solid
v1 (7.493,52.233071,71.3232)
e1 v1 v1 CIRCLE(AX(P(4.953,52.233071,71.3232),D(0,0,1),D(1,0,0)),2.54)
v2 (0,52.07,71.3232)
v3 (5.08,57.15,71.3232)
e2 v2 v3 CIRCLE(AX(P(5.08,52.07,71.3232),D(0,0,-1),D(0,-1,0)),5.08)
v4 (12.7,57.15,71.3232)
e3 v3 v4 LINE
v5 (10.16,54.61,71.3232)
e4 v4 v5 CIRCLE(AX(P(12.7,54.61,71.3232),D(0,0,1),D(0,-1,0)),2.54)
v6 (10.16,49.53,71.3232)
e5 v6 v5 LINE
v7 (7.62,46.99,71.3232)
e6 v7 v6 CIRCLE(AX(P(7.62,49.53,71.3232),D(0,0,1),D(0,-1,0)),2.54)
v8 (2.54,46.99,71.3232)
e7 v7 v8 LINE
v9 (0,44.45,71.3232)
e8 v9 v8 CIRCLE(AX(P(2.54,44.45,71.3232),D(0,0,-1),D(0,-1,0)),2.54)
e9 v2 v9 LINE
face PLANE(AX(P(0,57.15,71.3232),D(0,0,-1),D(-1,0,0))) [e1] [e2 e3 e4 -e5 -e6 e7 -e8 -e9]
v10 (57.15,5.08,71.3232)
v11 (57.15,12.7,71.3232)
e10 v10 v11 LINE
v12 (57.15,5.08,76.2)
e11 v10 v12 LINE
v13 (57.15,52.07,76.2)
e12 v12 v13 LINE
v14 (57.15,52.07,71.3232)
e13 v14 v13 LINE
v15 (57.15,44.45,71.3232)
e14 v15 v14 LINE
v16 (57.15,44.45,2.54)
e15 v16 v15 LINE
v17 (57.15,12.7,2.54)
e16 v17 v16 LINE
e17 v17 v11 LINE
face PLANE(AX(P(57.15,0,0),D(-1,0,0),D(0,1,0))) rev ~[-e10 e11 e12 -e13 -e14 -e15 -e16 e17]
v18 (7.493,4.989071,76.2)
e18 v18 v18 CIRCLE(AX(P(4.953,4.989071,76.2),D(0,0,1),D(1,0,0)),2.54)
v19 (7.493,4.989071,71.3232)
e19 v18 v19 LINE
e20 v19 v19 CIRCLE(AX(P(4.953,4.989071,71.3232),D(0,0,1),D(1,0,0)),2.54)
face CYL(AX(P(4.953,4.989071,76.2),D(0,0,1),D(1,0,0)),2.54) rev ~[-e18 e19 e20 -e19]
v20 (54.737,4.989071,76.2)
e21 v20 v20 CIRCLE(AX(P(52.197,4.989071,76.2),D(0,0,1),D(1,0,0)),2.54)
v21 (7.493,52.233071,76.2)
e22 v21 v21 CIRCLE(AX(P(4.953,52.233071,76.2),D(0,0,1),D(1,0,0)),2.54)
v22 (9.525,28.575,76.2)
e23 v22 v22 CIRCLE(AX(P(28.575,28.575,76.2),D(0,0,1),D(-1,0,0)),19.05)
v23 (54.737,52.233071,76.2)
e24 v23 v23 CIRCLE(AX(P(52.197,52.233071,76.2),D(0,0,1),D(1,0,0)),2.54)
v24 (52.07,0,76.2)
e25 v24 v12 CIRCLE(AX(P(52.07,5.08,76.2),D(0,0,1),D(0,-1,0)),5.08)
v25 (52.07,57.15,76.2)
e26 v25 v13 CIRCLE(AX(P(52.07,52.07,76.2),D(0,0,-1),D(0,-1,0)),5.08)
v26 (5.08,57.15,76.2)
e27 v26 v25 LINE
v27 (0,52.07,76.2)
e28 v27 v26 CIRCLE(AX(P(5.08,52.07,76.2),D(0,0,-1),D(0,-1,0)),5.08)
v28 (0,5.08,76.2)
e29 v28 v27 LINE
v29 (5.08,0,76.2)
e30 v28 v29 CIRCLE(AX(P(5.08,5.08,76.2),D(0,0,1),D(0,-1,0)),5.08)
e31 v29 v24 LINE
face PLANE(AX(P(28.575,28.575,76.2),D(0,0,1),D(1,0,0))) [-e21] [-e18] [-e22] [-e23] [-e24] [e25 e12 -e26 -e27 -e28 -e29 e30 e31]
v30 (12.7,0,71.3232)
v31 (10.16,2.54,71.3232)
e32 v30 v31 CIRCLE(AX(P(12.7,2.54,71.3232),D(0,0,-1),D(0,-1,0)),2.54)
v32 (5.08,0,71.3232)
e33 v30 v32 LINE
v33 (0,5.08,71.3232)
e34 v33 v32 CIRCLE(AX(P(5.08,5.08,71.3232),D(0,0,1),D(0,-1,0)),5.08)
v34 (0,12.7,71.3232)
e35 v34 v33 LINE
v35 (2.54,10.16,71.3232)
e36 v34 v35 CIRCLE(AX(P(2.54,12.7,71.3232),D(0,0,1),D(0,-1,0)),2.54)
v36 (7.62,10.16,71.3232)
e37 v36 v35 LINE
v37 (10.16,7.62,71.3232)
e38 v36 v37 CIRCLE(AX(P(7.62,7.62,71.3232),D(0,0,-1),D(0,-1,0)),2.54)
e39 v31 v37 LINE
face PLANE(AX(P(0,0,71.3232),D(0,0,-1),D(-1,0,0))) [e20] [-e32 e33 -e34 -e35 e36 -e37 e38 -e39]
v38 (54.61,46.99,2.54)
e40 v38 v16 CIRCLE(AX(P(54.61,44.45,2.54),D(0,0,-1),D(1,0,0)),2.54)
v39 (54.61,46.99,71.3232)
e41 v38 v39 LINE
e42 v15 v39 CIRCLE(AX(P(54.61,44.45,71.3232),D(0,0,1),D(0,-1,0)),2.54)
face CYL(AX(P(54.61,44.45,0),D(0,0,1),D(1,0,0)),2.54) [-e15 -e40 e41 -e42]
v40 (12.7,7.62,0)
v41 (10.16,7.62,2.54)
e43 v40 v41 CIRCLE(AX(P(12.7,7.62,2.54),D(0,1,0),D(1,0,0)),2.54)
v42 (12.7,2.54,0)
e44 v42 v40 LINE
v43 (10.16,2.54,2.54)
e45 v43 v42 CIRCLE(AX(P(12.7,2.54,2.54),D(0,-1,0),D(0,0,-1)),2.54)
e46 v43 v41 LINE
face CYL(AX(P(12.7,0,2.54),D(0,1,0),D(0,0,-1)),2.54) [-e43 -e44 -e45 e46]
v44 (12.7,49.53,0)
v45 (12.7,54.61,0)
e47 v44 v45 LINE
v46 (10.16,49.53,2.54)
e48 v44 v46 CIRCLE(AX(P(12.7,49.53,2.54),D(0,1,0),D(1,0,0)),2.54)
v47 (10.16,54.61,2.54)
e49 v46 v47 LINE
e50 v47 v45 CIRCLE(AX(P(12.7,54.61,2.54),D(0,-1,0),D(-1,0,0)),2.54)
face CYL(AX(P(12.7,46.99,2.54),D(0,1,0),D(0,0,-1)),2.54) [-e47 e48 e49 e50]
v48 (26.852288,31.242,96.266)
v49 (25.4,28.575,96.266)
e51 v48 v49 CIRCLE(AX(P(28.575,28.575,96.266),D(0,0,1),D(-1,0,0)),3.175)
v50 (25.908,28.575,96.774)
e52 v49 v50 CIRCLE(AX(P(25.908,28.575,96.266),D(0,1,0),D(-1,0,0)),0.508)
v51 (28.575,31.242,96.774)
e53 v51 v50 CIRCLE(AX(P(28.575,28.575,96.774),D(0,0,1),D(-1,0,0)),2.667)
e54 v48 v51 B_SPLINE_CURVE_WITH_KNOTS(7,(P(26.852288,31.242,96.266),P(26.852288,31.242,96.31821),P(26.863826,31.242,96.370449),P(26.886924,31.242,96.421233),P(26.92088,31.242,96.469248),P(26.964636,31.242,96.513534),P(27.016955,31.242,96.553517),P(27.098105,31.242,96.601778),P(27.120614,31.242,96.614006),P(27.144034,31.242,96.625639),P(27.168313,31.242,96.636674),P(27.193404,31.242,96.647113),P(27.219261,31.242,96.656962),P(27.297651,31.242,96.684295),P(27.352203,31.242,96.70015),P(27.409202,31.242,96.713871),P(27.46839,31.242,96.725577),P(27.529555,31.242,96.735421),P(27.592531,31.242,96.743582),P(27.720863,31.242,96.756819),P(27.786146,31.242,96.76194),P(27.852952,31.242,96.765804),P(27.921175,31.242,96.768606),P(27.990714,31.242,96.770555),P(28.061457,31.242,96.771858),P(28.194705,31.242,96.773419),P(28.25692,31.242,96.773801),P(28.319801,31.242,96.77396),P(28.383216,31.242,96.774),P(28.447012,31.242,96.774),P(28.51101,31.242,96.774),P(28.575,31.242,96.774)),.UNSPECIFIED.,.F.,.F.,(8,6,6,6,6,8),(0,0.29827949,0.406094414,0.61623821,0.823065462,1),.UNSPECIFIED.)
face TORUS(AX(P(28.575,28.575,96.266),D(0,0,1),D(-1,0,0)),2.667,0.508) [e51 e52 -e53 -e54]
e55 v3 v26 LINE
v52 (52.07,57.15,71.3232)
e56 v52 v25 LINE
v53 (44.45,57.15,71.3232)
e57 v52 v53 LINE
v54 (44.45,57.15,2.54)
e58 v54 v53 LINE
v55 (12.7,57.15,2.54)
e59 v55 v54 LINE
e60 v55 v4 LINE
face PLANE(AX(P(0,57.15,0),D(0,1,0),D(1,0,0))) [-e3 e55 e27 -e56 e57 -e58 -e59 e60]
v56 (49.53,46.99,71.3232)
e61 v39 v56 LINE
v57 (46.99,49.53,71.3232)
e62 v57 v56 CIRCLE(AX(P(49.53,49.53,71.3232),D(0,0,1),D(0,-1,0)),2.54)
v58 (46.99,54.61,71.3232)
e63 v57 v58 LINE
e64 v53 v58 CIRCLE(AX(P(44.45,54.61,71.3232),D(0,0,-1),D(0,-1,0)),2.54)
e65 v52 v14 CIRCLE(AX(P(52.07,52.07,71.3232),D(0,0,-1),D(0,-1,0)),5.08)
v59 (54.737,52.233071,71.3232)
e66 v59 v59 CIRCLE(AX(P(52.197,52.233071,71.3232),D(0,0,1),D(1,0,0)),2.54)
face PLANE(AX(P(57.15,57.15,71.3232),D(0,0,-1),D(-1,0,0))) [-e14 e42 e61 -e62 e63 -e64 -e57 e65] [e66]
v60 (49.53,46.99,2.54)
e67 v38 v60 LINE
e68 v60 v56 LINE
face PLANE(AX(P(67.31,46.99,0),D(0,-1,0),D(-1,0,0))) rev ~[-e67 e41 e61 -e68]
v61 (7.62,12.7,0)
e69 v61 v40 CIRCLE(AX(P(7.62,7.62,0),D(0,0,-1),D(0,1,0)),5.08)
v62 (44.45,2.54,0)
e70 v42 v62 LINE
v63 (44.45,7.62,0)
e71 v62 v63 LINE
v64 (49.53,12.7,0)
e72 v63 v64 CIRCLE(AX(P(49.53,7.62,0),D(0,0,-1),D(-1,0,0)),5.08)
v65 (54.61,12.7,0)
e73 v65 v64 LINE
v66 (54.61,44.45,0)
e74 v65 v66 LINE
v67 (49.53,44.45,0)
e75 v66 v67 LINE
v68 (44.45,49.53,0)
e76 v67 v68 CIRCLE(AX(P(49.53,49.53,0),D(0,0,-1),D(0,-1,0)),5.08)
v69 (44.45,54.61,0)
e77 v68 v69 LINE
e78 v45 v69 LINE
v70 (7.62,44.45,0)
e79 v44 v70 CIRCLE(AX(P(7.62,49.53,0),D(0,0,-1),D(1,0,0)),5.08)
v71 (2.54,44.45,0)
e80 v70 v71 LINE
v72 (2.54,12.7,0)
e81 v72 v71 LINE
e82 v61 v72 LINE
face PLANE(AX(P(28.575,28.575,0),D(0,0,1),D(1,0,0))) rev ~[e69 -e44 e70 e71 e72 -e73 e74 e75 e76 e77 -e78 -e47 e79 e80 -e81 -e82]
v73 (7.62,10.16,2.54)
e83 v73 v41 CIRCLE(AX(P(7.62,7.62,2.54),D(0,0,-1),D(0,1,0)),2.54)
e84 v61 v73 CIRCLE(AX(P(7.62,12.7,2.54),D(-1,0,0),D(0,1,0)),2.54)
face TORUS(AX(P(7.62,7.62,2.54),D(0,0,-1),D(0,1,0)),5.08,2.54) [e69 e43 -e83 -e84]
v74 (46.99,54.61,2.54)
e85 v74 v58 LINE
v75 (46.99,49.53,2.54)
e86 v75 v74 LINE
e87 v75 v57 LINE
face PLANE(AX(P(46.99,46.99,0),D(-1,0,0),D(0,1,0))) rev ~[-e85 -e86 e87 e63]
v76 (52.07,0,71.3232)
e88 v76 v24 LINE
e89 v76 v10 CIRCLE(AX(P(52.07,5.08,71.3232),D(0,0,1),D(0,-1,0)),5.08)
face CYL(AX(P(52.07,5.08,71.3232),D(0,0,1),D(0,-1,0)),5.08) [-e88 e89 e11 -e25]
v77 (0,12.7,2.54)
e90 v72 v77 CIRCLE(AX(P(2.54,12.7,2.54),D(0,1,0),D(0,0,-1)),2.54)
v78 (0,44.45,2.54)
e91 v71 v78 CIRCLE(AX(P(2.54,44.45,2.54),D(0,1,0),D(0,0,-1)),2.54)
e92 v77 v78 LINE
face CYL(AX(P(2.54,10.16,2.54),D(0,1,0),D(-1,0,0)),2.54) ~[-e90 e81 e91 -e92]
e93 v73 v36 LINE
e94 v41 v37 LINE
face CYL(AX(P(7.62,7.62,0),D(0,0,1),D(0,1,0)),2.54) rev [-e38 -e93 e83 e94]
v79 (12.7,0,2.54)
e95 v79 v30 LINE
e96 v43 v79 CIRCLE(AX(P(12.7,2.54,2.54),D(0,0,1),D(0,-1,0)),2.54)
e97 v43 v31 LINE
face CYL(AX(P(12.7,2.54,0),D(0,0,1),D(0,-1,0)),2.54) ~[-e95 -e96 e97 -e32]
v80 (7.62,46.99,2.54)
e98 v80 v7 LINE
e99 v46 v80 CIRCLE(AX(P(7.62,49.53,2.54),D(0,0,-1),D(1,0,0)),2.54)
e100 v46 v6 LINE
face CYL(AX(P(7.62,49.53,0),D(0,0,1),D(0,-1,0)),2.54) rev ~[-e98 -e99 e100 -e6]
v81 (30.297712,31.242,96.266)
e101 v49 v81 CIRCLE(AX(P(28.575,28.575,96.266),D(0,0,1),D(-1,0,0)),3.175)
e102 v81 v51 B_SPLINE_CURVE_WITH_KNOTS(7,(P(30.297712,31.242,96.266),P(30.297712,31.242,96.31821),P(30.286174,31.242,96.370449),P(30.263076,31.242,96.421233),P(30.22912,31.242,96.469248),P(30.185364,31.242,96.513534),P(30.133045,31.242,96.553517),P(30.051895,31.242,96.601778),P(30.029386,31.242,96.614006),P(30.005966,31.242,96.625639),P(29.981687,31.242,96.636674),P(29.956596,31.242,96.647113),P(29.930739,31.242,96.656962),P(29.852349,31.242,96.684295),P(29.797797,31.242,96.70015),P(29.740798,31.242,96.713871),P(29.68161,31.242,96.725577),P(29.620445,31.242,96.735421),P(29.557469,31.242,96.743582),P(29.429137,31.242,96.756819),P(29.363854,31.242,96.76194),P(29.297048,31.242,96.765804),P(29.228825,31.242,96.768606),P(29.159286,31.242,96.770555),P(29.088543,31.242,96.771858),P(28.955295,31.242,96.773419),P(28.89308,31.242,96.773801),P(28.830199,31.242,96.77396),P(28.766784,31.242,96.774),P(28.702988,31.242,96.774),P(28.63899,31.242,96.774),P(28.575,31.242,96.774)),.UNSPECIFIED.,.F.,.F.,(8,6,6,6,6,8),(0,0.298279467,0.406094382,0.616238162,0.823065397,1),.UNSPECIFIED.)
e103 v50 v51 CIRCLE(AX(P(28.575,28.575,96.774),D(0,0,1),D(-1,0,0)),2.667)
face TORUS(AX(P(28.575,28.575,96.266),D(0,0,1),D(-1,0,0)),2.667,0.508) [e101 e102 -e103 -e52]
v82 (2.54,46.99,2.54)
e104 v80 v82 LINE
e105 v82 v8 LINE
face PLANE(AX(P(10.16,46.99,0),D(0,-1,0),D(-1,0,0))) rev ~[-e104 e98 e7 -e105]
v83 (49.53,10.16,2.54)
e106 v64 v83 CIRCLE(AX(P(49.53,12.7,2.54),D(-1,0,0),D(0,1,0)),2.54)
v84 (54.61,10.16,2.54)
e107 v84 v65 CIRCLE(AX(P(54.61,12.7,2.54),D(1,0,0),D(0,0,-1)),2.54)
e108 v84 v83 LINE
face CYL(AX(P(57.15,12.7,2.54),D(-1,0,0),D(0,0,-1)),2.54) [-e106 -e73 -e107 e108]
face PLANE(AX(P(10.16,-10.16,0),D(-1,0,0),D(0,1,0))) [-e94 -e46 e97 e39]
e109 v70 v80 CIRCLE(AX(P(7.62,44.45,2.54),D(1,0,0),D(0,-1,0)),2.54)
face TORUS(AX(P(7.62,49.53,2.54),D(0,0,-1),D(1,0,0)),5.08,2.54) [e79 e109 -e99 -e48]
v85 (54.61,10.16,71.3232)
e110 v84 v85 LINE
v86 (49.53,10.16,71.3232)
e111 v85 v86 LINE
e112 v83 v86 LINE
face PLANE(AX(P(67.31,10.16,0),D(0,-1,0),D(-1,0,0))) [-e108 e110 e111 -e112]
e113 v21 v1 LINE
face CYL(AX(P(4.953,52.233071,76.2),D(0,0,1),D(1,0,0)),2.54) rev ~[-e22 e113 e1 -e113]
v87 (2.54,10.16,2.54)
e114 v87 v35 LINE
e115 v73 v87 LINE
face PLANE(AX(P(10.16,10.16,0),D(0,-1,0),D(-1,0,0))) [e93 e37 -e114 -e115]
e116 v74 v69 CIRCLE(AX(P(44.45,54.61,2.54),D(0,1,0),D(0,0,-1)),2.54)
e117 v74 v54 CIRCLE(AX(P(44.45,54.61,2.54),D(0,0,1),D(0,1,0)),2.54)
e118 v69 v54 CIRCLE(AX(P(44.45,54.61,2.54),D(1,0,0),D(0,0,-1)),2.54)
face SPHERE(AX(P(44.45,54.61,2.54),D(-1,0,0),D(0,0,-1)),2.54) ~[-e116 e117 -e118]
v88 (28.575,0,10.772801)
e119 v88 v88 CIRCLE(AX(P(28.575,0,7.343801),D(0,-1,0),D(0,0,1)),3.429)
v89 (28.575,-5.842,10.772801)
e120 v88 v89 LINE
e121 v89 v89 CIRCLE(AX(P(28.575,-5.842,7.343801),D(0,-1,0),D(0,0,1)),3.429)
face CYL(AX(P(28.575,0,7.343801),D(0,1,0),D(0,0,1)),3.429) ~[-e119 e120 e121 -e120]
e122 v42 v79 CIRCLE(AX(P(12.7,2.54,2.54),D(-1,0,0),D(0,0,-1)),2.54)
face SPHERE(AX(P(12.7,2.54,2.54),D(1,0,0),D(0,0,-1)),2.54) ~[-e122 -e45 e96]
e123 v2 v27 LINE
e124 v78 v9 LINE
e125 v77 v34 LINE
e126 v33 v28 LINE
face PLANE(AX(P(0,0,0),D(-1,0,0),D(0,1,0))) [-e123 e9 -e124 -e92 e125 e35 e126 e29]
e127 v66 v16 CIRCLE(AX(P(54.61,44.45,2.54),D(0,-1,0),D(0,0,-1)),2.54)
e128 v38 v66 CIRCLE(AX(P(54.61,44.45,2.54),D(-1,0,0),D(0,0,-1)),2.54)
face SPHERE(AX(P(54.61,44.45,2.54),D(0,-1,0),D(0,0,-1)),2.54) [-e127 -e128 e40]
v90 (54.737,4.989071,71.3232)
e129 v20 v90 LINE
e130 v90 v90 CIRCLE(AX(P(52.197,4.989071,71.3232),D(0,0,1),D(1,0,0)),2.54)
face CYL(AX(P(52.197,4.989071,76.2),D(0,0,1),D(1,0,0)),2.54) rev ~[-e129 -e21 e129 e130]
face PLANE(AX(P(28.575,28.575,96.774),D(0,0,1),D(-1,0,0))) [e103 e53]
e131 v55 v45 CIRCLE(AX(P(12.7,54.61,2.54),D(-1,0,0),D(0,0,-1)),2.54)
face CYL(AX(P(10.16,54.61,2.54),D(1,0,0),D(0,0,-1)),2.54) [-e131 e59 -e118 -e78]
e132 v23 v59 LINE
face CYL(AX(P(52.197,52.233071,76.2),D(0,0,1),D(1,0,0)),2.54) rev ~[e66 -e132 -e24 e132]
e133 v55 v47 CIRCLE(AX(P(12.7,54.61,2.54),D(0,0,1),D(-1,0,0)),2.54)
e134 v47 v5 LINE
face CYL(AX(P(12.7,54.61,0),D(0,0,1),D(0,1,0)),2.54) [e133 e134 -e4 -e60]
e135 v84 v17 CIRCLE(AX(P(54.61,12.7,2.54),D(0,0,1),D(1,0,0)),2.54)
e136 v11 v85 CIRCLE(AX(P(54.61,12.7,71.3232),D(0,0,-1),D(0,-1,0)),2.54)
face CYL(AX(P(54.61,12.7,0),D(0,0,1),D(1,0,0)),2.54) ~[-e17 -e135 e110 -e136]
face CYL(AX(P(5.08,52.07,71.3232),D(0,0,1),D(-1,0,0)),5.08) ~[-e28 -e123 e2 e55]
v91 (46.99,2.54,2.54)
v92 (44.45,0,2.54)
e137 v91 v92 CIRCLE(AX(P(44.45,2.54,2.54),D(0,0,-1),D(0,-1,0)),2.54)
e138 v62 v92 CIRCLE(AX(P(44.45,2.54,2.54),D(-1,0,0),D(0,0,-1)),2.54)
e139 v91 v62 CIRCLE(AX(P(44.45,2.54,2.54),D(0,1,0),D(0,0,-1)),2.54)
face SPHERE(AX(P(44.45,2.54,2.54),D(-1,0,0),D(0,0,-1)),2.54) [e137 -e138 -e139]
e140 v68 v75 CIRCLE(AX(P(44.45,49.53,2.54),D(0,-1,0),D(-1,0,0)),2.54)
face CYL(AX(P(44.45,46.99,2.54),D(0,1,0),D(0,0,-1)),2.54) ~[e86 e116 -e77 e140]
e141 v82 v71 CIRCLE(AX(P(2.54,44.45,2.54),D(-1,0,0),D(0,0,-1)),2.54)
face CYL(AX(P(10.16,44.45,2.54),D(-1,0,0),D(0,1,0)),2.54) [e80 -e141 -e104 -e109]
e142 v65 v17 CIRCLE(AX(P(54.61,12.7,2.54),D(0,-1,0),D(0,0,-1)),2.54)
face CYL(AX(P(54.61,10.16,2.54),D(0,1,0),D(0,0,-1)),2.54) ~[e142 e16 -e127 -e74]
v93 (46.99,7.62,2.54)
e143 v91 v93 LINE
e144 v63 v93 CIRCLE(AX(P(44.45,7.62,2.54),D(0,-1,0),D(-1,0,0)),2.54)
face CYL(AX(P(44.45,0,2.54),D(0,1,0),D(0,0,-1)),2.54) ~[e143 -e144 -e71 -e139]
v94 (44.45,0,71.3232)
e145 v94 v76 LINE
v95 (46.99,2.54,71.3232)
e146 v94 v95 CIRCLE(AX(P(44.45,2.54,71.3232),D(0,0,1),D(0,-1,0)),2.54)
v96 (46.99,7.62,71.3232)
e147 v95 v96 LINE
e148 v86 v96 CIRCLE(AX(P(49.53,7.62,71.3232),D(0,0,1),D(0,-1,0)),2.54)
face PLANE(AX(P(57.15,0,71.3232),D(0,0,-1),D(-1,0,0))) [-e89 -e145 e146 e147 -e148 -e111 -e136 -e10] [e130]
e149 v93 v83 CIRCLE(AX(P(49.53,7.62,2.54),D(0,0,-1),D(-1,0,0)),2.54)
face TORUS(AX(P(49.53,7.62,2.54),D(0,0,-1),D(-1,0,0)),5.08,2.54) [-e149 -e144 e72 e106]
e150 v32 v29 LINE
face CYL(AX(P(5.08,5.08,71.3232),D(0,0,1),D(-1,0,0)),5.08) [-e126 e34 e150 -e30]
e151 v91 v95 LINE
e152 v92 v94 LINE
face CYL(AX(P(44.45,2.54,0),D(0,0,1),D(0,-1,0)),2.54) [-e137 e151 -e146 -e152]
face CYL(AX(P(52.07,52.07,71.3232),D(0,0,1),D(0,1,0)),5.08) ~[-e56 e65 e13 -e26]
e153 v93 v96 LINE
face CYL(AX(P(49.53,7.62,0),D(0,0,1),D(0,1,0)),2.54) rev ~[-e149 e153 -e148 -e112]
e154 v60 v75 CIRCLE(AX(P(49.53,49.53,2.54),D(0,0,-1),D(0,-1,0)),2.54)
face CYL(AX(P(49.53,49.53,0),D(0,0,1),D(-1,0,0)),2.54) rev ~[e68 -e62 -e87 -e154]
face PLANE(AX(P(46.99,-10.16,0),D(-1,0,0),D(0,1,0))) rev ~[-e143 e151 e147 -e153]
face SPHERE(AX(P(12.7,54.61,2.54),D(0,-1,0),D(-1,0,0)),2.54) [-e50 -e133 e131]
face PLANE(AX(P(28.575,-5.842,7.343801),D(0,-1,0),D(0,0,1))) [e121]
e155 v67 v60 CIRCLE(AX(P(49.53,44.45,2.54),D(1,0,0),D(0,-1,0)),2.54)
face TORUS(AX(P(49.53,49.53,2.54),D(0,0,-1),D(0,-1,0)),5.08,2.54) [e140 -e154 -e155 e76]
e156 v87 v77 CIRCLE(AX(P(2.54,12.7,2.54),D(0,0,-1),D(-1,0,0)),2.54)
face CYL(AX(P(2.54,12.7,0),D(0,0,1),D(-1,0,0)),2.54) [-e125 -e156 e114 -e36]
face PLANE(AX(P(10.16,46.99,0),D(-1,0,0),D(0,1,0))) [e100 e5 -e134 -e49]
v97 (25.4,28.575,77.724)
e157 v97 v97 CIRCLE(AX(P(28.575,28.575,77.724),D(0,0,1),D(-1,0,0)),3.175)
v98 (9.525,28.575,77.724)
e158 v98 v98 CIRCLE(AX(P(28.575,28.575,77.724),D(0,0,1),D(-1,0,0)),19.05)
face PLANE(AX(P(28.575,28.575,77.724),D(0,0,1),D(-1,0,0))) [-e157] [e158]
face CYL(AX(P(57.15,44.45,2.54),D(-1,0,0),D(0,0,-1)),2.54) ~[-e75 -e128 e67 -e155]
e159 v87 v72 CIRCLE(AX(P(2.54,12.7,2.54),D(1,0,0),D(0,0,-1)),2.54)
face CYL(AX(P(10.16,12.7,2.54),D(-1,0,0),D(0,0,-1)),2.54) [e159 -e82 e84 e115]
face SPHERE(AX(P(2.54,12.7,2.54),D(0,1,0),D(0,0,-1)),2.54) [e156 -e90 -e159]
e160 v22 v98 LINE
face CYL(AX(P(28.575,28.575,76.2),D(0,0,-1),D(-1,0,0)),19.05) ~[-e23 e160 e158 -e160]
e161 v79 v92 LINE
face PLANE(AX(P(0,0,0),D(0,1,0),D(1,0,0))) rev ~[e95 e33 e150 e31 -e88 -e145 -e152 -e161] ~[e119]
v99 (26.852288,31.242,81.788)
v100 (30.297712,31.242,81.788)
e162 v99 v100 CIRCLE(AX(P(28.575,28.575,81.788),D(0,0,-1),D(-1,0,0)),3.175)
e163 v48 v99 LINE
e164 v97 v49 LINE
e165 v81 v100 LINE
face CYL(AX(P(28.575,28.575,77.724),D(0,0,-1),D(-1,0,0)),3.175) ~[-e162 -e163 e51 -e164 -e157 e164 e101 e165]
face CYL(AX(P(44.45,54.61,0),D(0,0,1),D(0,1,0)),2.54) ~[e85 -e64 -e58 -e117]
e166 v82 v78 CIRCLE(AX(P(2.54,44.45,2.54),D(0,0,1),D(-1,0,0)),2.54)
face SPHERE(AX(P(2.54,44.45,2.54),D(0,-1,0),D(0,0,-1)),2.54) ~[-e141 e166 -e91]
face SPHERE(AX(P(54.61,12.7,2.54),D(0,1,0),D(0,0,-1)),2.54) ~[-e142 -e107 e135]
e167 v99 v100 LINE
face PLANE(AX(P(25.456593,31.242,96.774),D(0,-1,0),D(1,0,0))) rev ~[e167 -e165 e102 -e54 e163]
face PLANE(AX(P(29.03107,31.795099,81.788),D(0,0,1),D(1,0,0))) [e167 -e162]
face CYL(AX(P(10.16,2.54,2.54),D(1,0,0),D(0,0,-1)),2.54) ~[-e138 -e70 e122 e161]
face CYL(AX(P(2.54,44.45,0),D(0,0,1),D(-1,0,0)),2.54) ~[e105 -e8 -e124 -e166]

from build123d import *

# Parameters (mm, degrees)
SKETCH1_W           = 57.15
SKETCH1_H           = 57.15
BOSS_EXTRUDE1_DEPTH = 76.2
SKETCH2_R           = 19.05
BOSS_EXTRUDE2_DEPTH = 1.524
SKETCH3_R           = 3.175
BOSS_EXTRUDE3_DEPTH = 19.05
SKETCH18_W          = 20.32
SKETCH18_H          = 20.32
CUT_EXTRUDE13_DEPTH = 71.3232
SKETCH20_W          = 20.32
SKETCH20_H          = 20.32
CUT_EXTRUDE14_DEPTH = 71.3232
SKETCH21_W          = 20.32
SKETCH21_H          = 20.32
CUT_EXTRUDE15_DEPTH = 71.3232
SKETCH22_W          = 20.32
SKETCH22_H          = 20.32
CUT_EXTRUDE16_DEPTH = 71.3232
SKETCH11_R          = 2.54
CUT_EXTRUDE8_DEPTH  = 112.079633597
SKETCH12_R          = 2.54
CUT_EXTRUDE9_DEPTH  = 112.079633597
SKETCH14_R          = 2.54
CUT_EXTRUDE10_DEPTH = 112.079633597
SKETCH15_R          = 2.54
CUT_EXTRUDE11_DEPTH = 112.079633597
FILLET2_R           = 5.08
FILLET4_R           = 2.54
FILLET1_R           = 0.508
SKETCH10_W          = 7.148953117
SKETCH10_H          = 1.106198654
CUT_EXTRUDE7_DEPTH  = 14.986
SKETCH23_R          = 3.429
WIRE_2_DEPTH        = 5.842


with BuildPart() as part:
    # Sketch1 → Boss-Extrude1 (new body)
    with BuildSketch(Plane.XY):
        with Locations((28.575, 28.575)):
            Rectangle(SKETCH1_W, SKETCH1_H)
    extrude(amount=BOSS_EXTRUDE1_DEPTH)

    # Sketch2 → Boss-Extrude2 (add)
    with BuildSketch(Plane.XY.offset(76.2)):
        with Locations(Location((28.575, 28.575, 0), (0, 0, 180))):
            Circle(SKETCH2_R)
    extrude(amount=BOSS_EXTRUDE2_DEPTH)

    # Sketch3 → Boss-Extrude3 (add)
    with BuildSketch(Plane.XY.offset(77.724)):
        with Locations(Location((28.575, 28.575, 0), (0, 0, 180))):
            Circle(SKETCH3_R)
    extrude(amount=BOSS_EXTRUDE3_DEPTH)

    # Sketch18 → Cut-Extrude13 (cut)
    with BuildSketch(Plane(origin=(0, 0, 0), x_dir=(-1, 0, 0), z_dir=(0, 0, -1))):
        with Locations((0, 57.15)):
            Rectangle(SKETCH18_W, SKETCH18_H)
    extrude(amount=-CUT_EXTRUDE13_DEPTH, mode=Mode.SUBTRACT)

    # Sketch20 → Cut-Extrude14 (cut)
    with BuildSketch(Plane(origin=(0, 0, 0), x_dir=(-1, 0, 0), z_dir=(0, 0, -1))):
        Rectangle(SKETCH20_W, SKETCH20_H)
    extrude(amount=-CUT_EXTRUDE14_DEPTH, mode=Mode.SUBTRACT)

    # Sketch21 → Cut-Extrude15 (cut)
    with BuildSketch(Plane(origin=(0, 0, 0), x_dir=(-1, 0, 0), z_dir=(0, 0, -1))):
        with Locations((-57.15, 0)):
            Rectangle(SKETCH21_W, SKETCH21_H)
    extrude(amount=-CUT_EXTRUDE15_DEPTH, mode=Mode.SUBTRACT)

    # Sketch22 → Cut-Extrude16 (cut)
    with BuildSketch(Plane(origin=(0, 0, 0), x_dir=(-1, 0, 0), z_dir=(0, 0, -1))):
        with Locations((-57.15, 57.15)):
            Rectangle(SKETCH22_W, SKETCH22_H)
    extrude(amount=-CUT_EXTRUDE16_DEPTH, mode=Mode.SUBTRACT)

    # Sketch11 → Cut-Extrude8 (cut, through all)
    with BuildSketch(Plane.XY.offset(76.2)):
        with Locations((4.953, 52.233071325)):
            Circle(SKETCH11_R)
    extrude(amount=-CUT_EXTRUDE8_DEPTH, mode=Mode.SUBTRACT)

    # Sketch12 → Cut-Extrude9 (cut, through all)
    with BuildSketch(Plane.XY.offset(76.2)):
        with Locations((52.197, 52.233071325)):
            Circle(SKETCH12_R)
    extrude(amount=-CUT_EXTRUDE9_DEPTH, mode=Mode.SUBTRACT)

    # Sketch14 → Cut-Extrude10 (cut, through all)
    with BuildSketch(Plane.XY.offset(76.2)):
        with Locations((4.953, 4.989071325)):
            Circle(SKETCH14_R)
    extrude(amount=-CUT_EXTRUDE10_DEPTH, mode=Mode.SUBTRACT)

    # Sketch15 → Cut-Extrude11 (cut, through all)
    with BuildSketch(Plane.XY.offset(76.2)):
        with Locations((52.197, 4.989071325)):
            Circle(SKETCH15_R)
    extrude(amount=-CUT_EXTRUDE11_DEPTH, mode=Mode.SUBTRACT)

    # Fillet2
    fillet2_edges = [part.edges().sort_by_distance(p)[0] for p in [
        (0, 57.15, 73.7616),
        (57.15, 57.15, 73.7616),
        (57.15, 0, 73.7616),
        (0, 0, 73.7616),
    ]]
    fillet(fillet2_edges, radius=FILLET2_R)

    # Fillet4
    fillet4_edges = [part.edges().sort_by_distance(p)[0] for p in [
        (0, 28.575, 0),
        (10.16, 52.07, 0),
        (5.08, 46.99, 0),
        (0, 46.99, 35.6616),
        (10.16, 57.15, 35.6616),
        (10.16, 46.99, 35.6616),
        (28.575, 0, 0),
        (5.08, 10.16, 0),
        (10.16, 5.08, 0),
        (10.16, 0, 35.6616),
        (0, 10.16, 35.6616),
        (10.16, 10.16, 35.6616),
        (57.15, 28.575, 0),
        (46.99, 5.08, 0),
        (52.07, 10.16, 0),
        (57.15, 10.16, 35.6616),
        (46.99, 0, 35.6616),
        (46.99, 10.16, 35.6616),
        (28.575, 57.15, 0),
        (52.07, 46.99, 0),
        (46.99, 52.07, 0),
        (46.99, 57.15, 35.6616),
        (57.15, 46.99, 35.6616),
        (46.99, 46.99, 35.6616),
    ]]
    fillet(fillet4_edges, radius=FILLET4_R)

    # Fillet1
    fillet1_edges = [part.edges().sort_by_distance(p)[0] for p in [
        (31.75, 28.575, 96.774),
    ]]
    fillet(fillet1_edges, radius=FILLET1_R)

    # Sketch10 → Cut-Extrude7 (cut)
    with BuildSketch(Plane.XY.offset(96.774)):
        with Locations((29.031069878, 31.795099327)):
            Rectangle(SKETCH10_W, SKETCH10_H)
    extrude(amount=-CUT_EXTRUDE7_DEPTH, mode=Mode.SUBTRACT)

    # Sketch23 → Wire 2 (add)
    with BuildSketch(Plane.XZ):
        with Locations(Location((28.575, 7.343801428, 0), (0, 0, 90))):
            Circle(SKETCH23_R)
    extrude(amount=WIRE_2_DEPTH)


solid = part.part
